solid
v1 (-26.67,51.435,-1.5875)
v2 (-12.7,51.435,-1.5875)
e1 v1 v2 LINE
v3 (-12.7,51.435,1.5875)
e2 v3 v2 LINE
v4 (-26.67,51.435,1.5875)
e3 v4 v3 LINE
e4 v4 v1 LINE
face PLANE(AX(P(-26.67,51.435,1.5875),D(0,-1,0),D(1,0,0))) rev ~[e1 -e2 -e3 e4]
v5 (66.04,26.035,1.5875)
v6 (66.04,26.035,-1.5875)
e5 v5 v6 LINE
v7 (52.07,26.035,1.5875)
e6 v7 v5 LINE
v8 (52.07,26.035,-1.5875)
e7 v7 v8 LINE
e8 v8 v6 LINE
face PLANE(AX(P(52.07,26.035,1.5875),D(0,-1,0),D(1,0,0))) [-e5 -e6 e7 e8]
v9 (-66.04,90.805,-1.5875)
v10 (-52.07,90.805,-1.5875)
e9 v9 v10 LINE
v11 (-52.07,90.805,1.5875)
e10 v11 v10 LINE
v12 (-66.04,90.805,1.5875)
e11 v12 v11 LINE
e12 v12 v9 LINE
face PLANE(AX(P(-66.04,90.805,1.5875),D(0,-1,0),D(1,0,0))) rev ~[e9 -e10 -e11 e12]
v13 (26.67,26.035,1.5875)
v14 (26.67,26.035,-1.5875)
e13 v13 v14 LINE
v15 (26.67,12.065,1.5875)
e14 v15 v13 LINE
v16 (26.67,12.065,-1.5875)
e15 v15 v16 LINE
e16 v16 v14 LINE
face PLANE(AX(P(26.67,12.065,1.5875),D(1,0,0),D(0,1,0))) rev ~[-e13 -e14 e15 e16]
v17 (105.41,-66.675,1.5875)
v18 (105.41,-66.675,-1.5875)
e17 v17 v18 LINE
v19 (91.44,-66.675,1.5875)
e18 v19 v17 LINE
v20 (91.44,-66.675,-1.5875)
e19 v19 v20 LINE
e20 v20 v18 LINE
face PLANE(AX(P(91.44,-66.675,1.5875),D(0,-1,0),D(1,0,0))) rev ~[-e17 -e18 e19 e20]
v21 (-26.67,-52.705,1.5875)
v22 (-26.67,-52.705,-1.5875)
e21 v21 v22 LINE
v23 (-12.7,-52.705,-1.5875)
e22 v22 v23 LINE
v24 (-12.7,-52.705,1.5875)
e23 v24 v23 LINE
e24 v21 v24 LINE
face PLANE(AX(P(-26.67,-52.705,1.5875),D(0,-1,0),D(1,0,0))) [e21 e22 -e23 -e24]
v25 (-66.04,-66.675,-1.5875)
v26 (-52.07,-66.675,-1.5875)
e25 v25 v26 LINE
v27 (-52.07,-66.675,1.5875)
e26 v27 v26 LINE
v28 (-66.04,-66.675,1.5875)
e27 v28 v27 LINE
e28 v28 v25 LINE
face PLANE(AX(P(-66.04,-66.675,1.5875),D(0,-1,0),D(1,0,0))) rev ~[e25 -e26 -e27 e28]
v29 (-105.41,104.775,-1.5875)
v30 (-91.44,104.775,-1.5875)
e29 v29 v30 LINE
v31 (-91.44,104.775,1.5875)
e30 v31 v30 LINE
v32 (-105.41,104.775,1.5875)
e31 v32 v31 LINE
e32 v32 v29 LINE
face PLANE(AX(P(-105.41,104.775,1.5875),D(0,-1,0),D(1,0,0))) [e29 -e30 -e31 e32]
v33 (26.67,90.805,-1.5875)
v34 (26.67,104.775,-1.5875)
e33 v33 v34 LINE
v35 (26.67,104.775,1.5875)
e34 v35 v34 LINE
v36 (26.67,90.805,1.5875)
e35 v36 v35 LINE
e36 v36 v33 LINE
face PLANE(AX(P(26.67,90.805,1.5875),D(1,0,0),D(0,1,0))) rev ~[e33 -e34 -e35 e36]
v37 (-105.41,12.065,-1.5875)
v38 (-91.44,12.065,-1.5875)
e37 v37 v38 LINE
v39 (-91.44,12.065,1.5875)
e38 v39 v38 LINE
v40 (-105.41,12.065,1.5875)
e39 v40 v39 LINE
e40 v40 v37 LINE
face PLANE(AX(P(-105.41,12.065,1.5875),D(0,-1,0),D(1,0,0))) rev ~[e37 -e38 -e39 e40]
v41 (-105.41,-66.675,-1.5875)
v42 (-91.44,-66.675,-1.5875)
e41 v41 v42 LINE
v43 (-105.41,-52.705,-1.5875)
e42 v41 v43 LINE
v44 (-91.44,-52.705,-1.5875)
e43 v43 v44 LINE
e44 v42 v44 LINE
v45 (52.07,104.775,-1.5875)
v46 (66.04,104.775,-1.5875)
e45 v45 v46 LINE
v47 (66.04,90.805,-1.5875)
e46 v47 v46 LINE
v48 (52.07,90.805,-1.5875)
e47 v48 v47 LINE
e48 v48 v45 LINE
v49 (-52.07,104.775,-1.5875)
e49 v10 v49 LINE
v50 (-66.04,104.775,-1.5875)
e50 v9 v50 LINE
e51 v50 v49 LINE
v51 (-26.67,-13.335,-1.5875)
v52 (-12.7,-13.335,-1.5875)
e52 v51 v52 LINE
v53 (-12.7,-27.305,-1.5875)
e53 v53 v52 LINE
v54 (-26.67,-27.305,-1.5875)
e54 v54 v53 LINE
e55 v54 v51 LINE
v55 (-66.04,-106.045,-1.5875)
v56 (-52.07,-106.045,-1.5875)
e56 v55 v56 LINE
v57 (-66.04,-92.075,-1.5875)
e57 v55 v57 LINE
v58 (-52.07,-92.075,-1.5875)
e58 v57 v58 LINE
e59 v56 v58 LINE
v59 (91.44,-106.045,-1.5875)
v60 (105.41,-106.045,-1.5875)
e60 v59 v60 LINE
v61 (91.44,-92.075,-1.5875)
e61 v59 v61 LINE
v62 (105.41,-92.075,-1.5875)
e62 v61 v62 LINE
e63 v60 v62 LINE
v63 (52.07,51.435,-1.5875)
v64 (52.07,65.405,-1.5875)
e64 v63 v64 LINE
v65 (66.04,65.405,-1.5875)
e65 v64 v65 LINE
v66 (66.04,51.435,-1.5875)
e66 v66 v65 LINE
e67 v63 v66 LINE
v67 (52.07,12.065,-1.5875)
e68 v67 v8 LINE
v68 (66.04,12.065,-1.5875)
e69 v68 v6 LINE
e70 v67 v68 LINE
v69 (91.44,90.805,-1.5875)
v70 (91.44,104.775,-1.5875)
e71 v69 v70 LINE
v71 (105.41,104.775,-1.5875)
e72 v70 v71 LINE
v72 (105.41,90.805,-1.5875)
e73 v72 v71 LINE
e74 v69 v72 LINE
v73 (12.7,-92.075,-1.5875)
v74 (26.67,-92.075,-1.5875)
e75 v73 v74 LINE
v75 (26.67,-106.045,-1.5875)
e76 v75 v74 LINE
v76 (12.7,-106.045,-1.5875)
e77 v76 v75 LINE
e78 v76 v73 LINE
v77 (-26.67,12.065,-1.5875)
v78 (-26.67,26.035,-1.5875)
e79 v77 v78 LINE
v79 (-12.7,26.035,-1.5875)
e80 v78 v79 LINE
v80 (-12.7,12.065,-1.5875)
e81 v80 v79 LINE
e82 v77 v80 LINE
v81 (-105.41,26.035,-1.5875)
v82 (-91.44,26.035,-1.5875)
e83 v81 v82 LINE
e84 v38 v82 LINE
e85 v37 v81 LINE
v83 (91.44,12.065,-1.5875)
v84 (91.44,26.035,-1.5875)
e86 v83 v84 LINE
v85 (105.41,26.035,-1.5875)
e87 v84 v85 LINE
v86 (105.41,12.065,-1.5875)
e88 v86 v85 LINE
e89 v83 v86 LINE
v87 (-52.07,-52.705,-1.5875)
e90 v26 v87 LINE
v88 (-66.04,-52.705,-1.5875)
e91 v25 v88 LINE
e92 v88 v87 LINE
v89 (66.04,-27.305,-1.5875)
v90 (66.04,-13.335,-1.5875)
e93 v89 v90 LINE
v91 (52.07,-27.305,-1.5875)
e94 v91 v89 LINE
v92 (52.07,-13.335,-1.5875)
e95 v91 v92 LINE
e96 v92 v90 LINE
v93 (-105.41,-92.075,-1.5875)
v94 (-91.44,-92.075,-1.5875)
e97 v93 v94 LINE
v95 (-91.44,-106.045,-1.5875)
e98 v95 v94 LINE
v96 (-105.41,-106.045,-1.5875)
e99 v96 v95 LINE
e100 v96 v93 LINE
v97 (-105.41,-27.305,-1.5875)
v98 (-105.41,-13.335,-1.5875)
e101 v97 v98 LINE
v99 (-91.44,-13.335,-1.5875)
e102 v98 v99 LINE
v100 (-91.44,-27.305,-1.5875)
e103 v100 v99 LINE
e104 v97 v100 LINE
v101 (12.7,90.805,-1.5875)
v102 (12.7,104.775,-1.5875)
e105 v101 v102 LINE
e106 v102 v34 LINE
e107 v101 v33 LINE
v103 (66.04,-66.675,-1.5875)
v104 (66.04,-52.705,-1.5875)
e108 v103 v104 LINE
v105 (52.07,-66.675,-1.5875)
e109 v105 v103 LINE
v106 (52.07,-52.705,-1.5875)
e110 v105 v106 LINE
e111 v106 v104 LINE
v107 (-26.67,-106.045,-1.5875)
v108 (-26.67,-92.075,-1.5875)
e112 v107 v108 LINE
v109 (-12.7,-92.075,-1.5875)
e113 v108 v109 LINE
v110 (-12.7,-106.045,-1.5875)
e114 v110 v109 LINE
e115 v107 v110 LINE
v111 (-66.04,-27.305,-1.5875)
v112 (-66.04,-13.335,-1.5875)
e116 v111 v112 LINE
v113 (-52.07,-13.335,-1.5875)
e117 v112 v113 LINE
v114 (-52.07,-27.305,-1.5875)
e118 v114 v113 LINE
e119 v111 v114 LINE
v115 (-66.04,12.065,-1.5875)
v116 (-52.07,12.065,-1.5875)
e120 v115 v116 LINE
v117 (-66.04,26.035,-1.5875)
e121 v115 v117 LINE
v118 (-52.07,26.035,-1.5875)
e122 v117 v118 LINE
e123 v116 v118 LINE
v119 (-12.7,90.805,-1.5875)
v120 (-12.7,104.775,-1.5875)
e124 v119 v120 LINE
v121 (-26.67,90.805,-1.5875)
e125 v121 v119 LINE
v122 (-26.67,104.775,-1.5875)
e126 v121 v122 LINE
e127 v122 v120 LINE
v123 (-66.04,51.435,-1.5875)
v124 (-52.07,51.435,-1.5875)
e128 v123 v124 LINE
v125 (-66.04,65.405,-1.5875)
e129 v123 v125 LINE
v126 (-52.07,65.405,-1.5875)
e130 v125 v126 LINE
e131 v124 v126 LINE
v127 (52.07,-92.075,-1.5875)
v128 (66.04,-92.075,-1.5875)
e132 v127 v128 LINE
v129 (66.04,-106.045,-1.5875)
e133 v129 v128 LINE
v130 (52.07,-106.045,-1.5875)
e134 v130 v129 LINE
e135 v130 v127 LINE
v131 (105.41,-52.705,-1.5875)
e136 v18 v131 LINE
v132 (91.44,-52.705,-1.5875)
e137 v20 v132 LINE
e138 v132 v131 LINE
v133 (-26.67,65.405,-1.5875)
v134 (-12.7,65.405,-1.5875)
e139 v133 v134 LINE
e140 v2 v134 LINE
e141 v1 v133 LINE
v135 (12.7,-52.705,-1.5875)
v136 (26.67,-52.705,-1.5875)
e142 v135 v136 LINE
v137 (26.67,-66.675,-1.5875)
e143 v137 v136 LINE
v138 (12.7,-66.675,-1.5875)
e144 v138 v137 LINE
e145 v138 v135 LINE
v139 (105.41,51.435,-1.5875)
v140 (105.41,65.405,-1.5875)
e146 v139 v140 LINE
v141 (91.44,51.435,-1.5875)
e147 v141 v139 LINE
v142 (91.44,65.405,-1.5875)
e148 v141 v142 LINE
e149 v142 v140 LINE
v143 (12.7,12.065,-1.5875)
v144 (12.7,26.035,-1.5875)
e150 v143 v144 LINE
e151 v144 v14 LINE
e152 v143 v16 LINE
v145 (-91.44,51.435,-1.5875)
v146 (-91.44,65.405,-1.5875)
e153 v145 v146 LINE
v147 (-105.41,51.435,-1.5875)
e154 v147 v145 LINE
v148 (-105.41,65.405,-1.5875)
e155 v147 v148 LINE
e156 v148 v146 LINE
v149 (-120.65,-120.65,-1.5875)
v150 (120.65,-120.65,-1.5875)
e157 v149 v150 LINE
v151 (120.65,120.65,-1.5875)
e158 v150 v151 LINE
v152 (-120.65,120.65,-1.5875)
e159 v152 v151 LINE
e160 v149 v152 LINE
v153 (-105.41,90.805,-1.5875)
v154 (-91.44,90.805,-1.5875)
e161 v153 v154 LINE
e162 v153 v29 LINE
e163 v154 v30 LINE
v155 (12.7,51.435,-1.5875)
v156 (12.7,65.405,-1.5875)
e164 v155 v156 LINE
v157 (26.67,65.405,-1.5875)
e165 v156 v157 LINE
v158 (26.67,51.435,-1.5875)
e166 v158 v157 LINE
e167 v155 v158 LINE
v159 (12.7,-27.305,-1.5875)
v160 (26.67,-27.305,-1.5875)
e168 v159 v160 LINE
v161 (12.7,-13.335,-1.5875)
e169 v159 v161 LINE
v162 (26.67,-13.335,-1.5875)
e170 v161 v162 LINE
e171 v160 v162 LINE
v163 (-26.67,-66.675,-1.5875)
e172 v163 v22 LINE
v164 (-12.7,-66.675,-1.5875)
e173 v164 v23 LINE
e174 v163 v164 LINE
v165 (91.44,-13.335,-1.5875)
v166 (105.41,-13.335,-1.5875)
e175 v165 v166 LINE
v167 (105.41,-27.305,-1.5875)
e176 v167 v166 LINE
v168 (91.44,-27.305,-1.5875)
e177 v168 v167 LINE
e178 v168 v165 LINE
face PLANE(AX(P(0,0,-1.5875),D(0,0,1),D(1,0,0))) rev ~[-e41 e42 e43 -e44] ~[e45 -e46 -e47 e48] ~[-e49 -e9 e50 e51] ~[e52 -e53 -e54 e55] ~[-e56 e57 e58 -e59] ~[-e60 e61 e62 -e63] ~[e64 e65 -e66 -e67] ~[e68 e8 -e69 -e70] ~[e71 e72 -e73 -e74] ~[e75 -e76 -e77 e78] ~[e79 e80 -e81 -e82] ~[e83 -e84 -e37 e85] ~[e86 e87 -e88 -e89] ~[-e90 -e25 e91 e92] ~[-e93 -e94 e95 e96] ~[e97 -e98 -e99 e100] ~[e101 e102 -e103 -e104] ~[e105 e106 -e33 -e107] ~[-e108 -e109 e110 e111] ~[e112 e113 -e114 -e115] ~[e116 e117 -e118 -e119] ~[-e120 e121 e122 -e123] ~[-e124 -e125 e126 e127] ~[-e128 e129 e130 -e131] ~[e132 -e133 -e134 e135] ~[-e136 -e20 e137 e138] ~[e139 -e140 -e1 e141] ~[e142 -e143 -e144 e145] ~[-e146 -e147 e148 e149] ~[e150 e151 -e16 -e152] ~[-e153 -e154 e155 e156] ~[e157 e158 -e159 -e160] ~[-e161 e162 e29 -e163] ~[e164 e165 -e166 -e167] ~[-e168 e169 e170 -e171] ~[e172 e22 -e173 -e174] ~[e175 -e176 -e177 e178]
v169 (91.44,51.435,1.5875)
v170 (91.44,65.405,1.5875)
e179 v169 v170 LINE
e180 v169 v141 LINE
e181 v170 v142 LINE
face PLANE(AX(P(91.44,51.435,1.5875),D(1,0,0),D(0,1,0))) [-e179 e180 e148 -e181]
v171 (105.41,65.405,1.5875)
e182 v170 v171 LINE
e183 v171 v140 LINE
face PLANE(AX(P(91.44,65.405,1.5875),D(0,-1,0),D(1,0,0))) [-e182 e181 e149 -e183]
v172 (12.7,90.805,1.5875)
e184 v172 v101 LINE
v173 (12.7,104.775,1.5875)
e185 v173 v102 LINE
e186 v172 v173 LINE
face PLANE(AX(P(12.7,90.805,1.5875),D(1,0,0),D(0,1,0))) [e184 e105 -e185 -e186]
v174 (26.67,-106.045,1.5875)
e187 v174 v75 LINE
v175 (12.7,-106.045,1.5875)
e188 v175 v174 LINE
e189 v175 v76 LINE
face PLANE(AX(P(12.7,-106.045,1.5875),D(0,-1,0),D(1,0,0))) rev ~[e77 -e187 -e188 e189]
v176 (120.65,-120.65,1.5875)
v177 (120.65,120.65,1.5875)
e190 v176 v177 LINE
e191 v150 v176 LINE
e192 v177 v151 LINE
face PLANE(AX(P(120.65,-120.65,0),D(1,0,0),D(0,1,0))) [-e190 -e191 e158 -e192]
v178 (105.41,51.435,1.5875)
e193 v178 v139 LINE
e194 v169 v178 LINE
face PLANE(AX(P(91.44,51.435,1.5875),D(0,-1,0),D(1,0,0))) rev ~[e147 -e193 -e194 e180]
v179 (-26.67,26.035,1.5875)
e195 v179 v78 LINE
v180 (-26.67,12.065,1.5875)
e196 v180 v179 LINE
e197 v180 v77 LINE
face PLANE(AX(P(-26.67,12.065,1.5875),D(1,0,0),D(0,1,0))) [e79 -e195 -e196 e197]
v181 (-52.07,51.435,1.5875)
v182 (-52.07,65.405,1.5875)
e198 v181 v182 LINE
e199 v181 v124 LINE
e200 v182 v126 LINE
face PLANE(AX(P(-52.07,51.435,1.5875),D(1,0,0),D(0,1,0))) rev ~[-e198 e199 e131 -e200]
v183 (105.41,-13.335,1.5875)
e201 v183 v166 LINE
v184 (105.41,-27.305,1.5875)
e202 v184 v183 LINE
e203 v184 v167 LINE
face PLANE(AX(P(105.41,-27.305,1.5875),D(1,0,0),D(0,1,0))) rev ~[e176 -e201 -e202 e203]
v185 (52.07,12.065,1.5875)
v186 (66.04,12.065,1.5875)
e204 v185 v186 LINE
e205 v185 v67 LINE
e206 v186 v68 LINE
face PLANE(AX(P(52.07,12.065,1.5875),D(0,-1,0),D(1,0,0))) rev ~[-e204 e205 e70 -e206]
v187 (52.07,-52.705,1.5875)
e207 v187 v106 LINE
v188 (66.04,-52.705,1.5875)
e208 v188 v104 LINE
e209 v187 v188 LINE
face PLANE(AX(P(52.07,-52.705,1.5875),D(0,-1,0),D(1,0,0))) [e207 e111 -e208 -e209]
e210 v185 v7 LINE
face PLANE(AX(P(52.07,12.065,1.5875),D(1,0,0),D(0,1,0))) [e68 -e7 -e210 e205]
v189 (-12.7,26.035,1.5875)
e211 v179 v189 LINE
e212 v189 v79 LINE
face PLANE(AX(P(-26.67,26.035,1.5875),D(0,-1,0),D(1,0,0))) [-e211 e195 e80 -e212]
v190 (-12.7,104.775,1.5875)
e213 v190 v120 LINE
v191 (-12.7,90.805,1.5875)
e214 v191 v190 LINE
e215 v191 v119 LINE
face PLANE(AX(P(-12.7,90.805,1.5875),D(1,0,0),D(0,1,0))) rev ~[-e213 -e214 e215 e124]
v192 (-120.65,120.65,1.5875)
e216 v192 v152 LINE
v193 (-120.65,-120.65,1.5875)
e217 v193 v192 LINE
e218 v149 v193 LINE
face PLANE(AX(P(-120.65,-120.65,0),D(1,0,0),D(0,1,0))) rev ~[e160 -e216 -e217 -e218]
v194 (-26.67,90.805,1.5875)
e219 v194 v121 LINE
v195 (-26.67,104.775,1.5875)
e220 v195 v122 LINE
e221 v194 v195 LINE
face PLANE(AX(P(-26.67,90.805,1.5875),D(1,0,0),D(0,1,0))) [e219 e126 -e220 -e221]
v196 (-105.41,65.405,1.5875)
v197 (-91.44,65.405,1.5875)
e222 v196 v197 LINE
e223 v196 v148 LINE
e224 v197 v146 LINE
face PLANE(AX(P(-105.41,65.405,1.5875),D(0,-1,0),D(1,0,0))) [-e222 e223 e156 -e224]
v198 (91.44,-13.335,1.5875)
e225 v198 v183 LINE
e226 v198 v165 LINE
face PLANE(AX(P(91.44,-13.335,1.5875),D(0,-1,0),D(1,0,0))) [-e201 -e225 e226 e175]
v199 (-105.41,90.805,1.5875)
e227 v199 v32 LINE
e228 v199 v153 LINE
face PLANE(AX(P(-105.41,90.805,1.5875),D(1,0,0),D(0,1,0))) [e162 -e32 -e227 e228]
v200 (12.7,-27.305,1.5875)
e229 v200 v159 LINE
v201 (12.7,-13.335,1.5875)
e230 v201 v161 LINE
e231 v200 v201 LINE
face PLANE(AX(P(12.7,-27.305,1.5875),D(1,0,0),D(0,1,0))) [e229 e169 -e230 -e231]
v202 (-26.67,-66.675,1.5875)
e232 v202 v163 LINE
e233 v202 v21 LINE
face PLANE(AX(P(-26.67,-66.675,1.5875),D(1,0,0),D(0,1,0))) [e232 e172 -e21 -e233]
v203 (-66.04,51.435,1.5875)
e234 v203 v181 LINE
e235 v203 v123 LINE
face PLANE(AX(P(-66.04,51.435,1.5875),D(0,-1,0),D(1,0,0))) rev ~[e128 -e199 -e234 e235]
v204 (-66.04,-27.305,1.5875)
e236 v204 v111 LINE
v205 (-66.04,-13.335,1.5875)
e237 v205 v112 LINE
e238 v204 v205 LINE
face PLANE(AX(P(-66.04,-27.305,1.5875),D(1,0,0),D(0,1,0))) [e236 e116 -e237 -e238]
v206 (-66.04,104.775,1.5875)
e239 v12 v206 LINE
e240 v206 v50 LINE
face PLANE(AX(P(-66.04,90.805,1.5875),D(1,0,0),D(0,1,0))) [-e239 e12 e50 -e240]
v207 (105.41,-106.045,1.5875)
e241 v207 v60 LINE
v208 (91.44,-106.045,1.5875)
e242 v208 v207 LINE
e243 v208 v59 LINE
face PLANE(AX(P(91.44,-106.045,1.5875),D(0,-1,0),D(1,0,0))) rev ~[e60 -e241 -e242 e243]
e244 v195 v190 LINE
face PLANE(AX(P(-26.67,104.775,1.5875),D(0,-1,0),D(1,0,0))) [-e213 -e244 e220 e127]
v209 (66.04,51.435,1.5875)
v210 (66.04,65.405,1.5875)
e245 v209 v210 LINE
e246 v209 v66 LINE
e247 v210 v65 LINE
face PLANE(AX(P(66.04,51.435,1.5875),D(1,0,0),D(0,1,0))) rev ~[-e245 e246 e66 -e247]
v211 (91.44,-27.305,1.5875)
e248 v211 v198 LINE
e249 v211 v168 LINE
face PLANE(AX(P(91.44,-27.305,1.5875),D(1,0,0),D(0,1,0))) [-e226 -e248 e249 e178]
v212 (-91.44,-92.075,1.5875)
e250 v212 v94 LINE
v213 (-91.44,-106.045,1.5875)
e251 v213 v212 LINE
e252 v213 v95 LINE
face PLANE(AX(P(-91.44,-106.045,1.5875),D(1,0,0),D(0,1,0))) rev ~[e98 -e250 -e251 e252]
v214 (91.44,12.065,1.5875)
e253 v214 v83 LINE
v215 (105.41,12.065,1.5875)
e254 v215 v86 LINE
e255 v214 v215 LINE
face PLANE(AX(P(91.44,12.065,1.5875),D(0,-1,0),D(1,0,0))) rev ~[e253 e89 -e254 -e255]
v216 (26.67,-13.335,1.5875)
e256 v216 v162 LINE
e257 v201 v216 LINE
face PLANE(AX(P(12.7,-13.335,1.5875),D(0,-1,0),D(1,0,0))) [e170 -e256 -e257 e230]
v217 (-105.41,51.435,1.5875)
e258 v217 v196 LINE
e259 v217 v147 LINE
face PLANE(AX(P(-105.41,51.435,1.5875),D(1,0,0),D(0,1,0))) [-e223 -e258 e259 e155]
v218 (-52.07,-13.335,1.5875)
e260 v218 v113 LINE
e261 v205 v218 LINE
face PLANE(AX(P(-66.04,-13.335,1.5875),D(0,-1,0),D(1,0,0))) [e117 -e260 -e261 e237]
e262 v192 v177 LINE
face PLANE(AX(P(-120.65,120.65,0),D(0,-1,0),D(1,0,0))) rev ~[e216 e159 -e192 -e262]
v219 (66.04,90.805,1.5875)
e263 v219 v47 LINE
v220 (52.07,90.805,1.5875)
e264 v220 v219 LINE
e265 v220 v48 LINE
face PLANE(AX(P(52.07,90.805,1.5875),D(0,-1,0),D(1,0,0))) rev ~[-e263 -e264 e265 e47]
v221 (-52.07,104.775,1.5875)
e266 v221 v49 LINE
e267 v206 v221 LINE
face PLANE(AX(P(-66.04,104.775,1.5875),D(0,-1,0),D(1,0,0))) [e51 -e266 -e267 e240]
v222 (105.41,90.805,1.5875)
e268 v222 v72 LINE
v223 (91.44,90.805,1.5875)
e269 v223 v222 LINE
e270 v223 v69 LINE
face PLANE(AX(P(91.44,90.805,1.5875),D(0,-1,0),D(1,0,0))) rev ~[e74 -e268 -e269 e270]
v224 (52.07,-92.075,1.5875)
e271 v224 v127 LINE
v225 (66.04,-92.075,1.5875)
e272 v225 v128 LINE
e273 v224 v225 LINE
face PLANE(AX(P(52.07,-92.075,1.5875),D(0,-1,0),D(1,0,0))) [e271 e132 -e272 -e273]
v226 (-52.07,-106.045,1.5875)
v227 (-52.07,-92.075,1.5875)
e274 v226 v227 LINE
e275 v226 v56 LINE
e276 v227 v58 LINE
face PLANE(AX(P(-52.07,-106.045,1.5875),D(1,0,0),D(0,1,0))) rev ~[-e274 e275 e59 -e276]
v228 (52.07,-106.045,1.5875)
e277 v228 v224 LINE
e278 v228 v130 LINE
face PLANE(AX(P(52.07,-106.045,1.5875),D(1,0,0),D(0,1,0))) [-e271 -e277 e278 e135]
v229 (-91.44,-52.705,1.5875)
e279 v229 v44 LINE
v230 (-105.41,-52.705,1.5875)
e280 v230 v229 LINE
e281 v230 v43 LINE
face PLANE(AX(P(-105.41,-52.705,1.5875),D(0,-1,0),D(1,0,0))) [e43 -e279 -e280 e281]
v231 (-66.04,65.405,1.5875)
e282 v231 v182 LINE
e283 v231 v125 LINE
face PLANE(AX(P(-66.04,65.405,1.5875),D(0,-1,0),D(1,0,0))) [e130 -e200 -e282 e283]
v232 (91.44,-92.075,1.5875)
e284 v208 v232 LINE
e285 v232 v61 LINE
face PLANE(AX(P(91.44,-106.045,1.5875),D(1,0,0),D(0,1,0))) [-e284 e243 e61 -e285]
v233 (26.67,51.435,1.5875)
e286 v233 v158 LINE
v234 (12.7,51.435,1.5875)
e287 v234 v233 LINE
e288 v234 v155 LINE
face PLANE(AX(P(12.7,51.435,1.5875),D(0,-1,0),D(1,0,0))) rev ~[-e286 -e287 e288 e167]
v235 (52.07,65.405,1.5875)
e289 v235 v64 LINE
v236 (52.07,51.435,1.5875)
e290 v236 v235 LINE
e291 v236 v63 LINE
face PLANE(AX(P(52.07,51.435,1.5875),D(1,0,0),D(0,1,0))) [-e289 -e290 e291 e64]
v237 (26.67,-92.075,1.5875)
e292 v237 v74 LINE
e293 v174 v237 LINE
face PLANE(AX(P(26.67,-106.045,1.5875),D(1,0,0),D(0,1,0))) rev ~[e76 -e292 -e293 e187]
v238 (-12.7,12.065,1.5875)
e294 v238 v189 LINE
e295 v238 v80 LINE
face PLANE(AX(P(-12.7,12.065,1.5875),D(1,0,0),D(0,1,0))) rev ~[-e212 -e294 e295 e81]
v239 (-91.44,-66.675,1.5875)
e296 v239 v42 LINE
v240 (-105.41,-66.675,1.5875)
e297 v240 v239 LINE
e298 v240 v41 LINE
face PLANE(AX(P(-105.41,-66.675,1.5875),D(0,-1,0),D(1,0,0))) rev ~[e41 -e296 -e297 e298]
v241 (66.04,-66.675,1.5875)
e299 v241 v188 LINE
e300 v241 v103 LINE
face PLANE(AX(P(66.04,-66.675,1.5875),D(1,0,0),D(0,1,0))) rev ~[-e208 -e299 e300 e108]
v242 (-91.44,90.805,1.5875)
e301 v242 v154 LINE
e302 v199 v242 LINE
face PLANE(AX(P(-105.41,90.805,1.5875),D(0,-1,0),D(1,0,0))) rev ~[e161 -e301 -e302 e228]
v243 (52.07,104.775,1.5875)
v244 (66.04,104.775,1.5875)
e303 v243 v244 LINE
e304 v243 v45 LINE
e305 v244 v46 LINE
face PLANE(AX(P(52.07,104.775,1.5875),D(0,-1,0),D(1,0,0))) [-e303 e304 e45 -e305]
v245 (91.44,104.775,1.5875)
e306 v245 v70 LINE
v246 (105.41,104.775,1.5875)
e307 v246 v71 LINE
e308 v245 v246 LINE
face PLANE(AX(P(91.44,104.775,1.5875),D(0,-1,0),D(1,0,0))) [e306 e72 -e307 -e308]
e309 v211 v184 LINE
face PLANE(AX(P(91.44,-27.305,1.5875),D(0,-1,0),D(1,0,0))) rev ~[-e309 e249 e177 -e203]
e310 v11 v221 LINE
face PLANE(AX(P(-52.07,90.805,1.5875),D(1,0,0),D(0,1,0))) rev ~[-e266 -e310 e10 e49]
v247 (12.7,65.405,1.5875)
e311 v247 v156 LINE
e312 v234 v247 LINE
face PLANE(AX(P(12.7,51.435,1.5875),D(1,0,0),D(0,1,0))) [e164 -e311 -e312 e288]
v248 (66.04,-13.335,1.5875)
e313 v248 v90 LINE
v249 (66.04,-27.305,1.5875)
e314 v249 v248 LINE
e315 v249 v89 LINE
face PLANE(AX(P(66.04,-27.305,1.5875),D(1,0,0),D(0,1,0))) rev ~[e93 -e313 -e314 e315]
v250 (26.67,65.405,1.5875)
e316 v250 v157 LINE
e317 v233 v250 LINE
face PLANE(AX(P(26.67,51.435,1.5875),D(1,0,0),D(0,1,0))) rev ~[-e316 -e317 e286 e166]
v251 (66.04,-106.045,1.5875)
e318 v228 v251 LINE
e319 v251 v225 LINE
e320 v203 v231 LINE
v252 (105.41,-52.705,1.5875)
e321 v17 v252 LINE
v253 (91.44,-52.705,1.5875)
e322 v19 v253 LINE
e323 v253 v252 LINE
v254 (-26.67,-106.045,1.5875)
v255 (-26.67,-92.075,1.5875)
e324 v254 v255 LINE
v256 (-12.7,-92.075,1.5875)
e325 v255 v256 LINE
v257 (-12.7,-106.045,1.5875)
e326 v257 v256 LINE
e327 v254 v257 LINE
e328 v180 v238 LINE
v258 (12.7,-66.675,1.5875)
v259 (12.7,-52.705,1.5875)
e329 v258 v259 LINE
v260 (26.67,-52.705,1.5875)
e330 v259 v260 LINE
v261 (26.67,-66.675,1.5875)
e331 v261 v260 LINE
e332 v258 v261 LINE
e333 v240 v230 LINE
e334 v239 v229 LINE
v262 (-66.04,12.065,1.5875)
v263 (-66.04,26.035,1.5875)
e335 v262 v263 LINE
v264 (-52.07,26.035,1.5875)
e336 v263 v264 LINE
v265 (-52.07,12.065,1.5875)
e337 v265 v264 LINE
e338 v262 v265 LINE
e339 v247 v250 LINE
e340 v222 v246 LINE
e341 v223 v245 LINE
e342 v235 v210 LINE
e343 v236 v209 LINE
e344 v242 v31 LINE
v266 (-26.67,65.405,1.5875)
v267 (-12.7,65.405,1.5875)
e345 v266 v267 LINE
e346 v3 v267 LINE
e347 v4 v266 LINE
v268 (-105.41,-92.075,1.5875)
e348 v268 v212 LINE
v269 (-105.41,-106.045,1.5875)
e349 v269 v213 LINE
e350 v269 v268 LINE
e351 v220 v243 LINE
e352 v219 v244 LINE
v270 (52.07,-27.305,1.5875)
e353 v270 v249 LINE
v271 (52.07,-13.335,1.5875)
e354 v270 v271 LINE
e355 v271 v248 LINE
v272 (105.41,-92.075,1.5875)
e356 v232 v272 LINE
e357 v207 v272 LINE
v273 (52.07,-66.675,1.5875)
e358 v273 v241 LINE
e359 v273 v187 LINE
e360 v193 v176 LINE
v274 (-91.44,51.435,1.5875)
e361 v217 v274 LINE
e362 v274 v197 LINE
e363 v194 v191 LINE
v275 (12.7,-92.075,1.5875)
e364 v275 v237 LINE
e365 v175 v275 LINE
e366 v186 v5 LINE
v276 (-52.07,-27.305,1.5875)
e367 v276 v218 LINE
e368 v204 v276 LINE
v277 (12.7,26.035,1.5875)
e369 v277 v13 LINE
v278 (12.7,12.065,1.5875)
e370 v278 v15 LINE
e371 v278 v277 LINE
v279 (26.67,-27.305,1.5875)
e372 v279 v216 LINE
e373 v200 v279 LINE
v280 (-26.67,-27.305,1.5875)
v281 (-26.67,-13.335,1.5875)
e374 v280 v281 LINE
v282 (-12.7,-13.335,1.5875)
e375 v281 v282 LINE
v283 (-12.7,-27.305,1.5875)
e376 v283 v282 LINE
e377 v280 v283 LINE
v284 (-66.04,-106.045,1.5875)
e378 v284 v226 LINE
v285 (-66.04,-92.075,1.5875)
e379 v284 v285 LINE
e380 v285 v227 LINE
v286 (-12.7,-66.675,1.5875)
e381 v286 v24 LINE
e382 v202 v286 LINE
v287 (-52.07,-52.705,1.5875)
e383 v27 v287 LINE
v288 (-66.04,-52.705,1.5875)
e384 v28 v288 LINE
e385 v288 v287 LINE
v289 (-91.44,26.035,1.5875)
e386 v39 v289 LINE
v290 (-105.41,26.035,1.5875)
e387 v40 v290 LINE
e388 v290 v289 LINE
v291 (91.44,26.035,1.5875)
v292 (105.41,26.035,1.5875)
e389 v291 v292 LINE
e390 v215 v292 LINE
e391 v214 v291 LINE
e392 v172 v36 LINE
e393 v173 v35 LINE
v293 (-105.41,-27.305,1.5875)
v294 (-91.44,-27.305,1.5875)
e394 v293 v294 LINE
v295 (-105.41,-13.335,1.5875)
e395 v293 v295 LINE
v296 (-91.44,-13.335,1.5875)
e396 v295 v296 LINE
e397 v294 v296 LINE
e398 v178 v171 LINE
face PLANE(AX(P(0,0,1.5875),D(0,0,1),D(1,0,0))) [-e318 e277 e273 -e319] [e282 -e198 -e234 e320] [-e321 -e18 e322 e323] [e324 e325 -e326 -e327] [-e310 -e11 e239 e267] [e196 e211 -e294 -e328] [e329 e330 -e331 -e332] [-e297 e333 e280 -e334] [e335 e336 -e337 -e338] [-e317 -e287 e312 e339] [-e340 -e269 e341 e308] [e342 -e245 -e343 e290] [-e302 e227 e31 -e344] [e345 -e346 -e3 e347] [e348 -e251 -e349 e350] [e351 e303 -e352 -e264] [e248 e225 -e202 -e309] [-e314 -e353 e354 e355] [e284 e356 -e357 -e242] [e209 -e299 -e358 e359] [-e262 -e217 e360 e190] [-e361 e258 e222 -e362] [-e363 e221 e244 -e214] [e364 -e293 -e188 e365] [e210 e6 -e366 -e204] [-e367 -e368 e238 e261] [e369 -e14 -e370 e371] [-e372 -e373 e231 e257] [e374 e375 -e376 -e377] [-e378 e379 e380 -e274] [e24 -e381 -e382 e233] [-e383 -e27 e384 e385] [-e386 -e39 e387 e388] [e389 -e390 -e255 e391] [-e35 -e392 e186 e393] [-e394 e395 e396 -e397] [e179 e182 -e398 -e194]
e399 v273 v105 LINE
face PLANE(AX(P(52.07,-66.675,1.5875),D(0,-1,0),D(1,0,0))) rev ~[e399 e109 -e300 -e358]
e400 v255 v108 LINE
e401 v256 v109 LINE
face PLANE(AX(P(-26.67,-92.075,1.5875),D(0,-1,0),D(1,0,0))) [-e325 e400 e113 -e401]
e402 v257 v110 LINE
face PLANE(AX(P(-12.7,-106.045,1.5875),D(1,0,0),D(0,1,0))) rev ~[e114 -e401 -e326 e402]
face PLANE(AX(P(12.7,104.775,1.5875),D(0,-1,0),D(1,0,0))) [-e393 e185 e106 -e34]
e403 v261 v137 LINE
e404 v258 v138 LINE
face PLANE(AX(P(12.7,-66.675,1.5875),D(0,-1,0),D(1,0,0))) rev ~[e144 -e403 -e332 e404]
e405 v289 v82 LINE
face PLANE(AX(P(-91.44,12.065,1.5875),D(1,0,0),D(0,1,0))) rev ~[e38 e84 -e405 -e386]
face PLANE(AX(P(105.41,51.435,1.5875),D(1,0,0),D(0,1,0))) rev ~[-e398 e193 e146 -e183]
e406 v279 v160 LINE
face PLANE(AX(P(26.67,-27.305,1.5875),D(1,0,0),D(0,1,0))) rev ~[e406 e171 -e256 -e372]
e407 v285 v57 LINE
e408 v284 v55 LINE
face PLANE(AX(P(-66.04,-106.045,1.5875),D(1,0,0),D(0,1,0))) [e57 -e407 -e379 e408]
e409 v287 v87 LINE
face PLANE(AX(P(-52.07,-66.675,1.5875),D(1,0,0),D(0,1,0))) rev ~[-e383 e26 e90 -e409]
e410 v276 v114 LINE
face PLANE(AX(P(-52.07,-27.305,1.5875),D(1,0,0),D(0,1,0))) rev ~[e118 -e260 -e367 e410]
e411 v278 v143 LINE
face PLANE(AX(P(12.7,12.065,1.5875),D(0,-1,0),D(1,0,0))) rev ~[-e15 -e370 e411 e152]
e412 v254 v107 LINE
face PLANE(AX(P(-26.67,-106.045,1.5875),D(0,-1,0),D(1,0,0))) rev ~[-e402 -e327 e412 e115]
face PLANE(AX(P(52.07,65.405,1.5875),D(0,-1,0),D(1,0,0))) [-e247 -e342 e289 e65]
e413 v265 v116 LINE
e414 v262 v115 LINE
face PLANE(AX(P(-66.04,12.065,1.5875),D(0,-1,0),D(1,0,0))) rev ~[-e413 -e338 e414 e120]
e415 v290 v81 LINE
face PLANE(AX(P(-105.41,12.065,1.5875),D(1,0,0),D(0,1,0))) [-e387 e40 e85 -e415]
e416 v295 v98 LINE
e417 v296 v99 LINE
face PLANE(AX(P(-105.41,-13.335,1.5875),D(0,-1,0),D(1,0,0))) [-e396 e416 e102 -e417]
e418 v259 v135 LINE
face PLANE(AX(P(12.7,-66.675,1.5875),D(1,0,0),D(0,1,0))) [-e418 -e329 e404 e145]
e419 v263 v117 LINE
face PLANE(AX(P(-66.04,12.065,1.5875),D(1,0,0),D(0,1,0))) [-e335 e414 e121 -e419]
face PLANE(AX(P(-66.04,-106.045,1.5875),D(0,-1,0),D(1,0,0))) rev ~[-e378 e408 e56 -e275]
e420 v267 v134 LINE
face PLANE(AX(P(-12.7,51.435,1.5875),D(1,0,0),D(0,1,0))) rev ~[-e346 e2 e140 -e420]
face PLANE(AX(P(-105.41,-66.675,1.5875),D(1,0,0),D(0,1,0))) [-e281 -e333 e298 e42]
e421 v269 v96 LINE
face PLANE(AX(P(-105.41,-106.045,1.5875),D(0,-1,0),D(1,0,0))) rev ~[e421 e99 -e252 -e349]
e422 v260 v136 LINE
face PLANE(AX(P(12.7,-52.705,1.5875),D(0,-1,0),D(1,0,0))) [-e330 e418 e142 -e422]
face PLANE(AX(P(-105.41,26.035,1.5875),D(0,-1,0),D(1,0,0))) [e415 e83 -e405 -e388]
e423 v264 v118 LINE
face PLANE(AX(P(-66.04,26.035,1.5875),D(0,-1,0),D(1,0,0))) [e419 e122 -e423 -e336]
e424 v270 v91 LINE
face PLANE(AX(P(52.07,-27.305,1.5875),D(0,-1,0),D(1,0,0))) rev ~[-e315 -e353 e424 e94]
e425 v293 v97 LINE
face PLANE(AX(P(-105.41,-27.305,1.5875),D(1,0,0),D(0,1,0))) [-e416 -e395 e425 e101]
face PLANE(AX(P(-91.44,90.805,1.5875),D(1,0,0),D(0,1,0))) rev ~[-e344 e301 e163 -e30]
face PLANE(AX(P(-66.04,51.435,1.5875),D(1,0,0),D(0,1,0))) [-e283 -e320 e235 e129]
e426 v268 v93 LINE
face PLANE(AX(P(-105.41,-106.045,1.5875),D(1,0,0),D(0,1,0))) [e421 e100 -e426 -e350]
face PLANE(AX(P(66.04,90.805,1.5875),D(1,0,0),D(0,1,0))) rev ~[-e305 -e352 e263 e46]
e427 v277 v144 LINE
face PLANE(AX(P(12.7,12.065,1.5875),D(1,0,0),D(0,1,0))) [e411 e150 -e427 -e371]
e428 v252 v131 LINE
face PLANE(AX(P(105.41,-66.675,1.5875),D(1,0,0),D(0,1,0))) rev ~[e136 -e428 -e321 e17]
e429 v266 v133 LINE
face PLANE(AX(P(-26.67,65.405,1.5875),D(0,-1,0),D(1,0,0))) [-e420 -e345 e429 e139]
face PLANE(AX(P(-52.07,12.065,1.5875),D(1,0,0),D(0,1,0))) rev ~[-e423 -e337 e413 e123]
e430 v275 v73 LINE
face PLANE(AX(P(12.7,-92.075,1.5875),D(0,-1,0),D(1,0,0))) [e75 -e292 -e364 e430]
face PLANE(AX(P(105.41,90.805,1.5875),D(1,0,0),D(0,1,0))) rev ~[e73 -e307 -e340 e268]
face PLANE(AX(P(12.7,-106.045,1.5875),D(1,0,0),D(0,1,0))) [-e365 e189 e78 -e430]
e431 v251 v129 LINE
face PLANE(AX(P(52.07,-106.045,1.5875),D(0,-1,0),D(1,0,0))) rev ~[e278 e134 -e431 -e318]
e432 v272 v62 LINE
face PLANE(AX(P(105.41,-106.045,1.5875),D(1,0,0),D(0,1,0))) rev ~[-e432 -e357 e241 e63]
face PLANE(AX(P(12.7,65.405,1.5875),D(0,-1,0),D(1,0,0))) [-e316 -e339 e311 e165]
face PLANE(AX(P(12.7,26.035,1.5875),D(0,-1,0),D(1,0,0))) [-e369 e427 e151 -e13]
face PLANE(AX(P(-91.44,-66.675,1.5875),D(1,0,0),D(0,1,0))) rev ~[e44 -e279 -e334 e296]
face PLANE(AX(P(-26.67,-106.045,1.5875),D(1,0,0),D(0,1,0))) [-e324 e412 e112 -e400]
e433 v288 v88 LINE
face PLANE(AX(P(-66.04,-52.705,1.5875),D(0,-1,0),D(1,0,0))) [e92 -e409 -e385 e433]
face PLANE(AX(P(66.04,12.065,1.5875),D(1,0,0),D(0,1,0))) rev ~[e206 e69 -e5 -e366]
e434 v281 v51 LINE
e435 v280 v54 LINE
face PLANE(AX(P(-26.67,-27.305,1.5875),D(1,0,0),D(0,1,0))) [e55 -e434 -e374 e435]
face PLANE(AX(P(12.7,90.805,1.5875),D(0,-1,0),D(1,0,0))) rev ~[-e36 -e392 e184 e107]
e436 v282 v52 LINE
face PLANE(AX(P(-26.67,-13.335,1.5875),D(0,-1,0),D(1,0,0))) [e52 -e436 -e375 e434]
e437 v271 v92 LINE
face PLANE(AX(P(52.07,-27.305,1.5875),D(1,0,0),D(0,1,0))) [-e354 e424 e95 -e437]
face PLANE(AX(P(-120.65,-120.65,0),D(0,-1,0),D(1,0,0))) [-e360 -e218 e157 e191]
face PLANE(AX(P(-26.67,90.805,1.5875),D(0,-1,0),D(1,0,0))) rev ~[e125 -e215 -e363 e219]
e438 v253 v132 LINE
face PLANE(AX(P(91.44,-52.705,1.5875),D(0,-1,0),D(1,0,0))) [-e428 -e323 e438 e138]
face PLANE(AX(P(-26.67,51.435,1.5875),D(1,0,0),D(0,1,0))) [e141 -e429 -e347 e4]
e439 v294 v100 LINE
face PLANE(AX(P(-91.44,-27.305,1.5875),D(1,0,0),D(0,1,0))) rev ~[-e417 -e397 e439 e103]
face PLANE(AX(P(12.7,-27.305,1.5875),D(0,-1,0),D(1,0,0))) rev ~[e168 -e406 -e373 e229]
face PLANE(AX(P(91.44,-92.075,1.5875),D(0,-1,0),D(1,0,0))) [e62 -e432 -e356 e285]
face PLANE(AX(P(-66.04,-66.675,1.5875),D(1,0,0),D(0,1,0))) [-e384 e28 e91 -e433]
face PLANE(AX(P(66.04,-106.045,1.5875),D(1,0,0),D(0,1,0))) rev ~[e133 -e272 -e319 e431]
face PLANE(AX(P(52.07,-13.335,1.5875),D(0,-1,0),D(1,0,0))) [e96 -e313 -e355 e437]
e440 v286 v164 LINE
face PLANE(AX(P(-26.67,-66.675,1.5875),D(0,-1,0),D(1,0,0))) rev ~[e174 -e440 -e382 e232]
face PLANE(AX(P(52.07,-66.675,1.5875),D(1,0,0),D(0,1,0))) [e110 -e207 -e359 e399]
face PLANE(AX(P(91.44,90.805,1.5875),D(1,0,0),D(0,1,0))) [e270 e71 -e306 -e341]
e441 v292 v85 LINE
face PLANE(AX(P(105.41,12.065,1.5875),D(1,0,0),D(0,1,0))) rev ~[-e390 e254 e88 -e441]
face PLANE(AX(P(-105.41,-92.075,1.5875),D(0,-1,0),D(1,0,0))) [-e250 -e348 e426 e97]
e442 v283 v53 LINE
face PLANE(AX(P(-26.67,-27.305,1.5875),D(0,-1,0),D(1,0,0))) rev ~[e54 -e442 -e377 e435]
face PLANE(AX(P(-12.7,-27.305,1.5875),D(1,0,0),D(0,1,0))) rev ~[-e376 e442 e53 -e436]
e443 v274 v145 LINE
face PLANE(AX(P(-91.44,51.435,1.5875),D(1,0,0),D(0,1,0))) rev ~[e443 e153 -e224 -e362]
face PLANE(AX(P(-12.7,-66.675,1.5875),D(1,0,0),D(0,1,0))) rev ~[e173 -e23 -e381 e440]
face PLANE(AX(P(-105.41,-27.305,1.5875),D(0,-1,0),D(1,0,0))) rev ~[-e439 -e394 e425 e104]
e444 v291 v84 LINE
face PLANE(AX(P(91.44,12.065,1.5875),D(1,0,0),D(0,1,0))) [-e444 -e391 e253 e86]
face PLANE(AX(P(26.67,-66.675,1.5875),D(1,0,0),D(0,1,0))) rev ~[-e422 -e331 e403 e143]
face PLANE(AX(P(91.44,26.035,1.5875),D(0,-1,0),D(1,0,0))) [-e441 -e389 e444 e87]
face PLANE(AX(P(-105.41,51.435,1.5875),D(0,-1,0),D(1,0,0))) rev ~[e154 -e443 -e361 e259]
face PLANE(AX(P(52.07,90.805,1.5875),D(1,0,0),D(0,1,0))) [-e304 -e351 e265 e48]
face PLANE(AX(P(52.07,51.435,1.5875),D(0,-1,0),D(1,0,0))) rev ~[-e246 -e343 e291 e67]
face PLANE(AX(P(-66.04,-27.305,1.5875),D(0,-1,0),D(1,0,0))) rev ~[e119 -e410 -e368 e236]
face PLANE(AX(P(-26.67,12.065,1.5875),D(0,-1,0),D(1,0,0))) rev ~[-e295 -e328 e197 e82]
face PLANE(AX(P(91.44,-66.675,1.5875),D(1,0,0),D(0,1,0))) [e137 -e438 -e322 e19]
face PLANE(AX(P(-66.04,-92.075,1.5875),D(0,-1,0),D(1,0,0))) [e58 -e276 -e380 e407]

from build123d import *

# Parameters (mm, degrees)
F0_W     = 241.3
F0_H     = 241.3
F1_DEPTH = 1.5875
F2_W     = 13.97
F2_H     = 13.97
F3_DEPTH = 3.175


with BuildPart() as f1:
    # F0 (on Top) → F1 (new body, symmetric)
    with BuildSketch(Plane.XY):
        Rectangle(F0_W, F0_H)
    extrude(amount=F1_DEPTH, both=True)

    # F2 (on face) → F3 (cut, through all)
    with BuildSketch(Plane.XY.offset(1.5875)):
        with Locations((-98.425, 97.79)):
            Rectangle(F2_W, F2_H)
        with Locations((-98.425, 58.42)):
            Rectangle(F2_W, F2_H)
        with Locations((-98.425, 19.05)):
            Rectangle(F2_W, F2_H)
        with Locations((-98.425, -20.32)):
            Rectangle(F2_W, F2_H)
        with Locations((-98.425, -59.69)):
            Rectangle(F2_W, F2_H)
        with Locations((-98.425, -99.06)):
            Rectangle(F2_W, F2_H)
        with Locations((-59.055, 97.79)):
            Rectangle(F2_W, F2_H)
        with Locations((-59.055, 58.42)):
            Rectangle(F2_W, F2_H)
        with Locations((-59.055, 19.05)):
            Rectangle(F2_W, F2_H)
        with Locations((-59.055, -20.32)):
            Rectangle(F2_W, F2_H)
        with Locations((-59.055, -59.69)):
            Rectangle(F2_W, F2_H)
        with Locations((-59.055, -99.06)):
            Rectangle(F2_W, F2_H)
        with Locations((-19.685, 97.79)):
            Rectangle(F2_W, F2_H)
        with Locations((-19.685, 58.42)):
            Rectangle(F2_W, F2_H)
        with Locations((-19.685, 19.05)):
            Rectangle(F2_W, F2_H)
        with Locations((-19.685, -20.32)):
            Rectangle(F2_W, F2_H)
        with Locations((-19.685, -59.69)):
            Rectangle(F2_W, F2_H)
        with Locations((-19.685, -99.06)):
            Rectangle(F2_W, F2_H)
        with Locations((19.685, 97.79)):
            Rectangle(F2_W, F2_H)
        with Locations((19.685, 58.42)):
            Rectangle(F2_W, F2_H)
        with Locations((19.685, 19.05)):
            Rectangle(F2_W, F2_H)
        with Locations((19.685, -20.32)):
            Rectangle(F2_W, F2_H)
        with Locations((19.685, -59.69)):
            Rectangle(F2_W, F2_H)
        with Locations((19.685, -99.06)):
            Rectangle(F2_W, F2_H)
        with Locations((59.055, 97.79)):
            Rectangle(F2_W, F2_H)
        with Locations((59.055, 58.42)):
            Rectangle(F2_W, F2_H)
        with Locations((59.055, 19.05)):
            Rectangle(F2_W, F2_H)
        with Locations((59.055, -20.32)):
            Rectangle(F2_W, F2_H)
        with Locations((59.055, -59.69)):
            Rectangle(F2_W, F2_H)
        with Locations((59.055, -99.06)):
            Rectangle(F2_W, F2_H)
        with Locations((98.425, 97.79)):
            Rectangle(F2_W, F2_H)
        with Locations((98.425, 58.42)):
            Rectangle(F2_W, F2_H)
        with Locations((98.425, 19.05)):
            Rectangle(F2_W, F2_H)
        with Locations((98.425, -20.32)):
            Rectangle(F2_W, F2_H)
        with Locations((98.425, -59.69)):
            Rectangle(F2_W, F2_H)
        with Locations((98.425, -99.06)):
            Rectangle(F2_W, F2_H)
    extrude(amount=-F3_DEPTH, mode=Mode.SUBTRACT)


solid = f1.part
